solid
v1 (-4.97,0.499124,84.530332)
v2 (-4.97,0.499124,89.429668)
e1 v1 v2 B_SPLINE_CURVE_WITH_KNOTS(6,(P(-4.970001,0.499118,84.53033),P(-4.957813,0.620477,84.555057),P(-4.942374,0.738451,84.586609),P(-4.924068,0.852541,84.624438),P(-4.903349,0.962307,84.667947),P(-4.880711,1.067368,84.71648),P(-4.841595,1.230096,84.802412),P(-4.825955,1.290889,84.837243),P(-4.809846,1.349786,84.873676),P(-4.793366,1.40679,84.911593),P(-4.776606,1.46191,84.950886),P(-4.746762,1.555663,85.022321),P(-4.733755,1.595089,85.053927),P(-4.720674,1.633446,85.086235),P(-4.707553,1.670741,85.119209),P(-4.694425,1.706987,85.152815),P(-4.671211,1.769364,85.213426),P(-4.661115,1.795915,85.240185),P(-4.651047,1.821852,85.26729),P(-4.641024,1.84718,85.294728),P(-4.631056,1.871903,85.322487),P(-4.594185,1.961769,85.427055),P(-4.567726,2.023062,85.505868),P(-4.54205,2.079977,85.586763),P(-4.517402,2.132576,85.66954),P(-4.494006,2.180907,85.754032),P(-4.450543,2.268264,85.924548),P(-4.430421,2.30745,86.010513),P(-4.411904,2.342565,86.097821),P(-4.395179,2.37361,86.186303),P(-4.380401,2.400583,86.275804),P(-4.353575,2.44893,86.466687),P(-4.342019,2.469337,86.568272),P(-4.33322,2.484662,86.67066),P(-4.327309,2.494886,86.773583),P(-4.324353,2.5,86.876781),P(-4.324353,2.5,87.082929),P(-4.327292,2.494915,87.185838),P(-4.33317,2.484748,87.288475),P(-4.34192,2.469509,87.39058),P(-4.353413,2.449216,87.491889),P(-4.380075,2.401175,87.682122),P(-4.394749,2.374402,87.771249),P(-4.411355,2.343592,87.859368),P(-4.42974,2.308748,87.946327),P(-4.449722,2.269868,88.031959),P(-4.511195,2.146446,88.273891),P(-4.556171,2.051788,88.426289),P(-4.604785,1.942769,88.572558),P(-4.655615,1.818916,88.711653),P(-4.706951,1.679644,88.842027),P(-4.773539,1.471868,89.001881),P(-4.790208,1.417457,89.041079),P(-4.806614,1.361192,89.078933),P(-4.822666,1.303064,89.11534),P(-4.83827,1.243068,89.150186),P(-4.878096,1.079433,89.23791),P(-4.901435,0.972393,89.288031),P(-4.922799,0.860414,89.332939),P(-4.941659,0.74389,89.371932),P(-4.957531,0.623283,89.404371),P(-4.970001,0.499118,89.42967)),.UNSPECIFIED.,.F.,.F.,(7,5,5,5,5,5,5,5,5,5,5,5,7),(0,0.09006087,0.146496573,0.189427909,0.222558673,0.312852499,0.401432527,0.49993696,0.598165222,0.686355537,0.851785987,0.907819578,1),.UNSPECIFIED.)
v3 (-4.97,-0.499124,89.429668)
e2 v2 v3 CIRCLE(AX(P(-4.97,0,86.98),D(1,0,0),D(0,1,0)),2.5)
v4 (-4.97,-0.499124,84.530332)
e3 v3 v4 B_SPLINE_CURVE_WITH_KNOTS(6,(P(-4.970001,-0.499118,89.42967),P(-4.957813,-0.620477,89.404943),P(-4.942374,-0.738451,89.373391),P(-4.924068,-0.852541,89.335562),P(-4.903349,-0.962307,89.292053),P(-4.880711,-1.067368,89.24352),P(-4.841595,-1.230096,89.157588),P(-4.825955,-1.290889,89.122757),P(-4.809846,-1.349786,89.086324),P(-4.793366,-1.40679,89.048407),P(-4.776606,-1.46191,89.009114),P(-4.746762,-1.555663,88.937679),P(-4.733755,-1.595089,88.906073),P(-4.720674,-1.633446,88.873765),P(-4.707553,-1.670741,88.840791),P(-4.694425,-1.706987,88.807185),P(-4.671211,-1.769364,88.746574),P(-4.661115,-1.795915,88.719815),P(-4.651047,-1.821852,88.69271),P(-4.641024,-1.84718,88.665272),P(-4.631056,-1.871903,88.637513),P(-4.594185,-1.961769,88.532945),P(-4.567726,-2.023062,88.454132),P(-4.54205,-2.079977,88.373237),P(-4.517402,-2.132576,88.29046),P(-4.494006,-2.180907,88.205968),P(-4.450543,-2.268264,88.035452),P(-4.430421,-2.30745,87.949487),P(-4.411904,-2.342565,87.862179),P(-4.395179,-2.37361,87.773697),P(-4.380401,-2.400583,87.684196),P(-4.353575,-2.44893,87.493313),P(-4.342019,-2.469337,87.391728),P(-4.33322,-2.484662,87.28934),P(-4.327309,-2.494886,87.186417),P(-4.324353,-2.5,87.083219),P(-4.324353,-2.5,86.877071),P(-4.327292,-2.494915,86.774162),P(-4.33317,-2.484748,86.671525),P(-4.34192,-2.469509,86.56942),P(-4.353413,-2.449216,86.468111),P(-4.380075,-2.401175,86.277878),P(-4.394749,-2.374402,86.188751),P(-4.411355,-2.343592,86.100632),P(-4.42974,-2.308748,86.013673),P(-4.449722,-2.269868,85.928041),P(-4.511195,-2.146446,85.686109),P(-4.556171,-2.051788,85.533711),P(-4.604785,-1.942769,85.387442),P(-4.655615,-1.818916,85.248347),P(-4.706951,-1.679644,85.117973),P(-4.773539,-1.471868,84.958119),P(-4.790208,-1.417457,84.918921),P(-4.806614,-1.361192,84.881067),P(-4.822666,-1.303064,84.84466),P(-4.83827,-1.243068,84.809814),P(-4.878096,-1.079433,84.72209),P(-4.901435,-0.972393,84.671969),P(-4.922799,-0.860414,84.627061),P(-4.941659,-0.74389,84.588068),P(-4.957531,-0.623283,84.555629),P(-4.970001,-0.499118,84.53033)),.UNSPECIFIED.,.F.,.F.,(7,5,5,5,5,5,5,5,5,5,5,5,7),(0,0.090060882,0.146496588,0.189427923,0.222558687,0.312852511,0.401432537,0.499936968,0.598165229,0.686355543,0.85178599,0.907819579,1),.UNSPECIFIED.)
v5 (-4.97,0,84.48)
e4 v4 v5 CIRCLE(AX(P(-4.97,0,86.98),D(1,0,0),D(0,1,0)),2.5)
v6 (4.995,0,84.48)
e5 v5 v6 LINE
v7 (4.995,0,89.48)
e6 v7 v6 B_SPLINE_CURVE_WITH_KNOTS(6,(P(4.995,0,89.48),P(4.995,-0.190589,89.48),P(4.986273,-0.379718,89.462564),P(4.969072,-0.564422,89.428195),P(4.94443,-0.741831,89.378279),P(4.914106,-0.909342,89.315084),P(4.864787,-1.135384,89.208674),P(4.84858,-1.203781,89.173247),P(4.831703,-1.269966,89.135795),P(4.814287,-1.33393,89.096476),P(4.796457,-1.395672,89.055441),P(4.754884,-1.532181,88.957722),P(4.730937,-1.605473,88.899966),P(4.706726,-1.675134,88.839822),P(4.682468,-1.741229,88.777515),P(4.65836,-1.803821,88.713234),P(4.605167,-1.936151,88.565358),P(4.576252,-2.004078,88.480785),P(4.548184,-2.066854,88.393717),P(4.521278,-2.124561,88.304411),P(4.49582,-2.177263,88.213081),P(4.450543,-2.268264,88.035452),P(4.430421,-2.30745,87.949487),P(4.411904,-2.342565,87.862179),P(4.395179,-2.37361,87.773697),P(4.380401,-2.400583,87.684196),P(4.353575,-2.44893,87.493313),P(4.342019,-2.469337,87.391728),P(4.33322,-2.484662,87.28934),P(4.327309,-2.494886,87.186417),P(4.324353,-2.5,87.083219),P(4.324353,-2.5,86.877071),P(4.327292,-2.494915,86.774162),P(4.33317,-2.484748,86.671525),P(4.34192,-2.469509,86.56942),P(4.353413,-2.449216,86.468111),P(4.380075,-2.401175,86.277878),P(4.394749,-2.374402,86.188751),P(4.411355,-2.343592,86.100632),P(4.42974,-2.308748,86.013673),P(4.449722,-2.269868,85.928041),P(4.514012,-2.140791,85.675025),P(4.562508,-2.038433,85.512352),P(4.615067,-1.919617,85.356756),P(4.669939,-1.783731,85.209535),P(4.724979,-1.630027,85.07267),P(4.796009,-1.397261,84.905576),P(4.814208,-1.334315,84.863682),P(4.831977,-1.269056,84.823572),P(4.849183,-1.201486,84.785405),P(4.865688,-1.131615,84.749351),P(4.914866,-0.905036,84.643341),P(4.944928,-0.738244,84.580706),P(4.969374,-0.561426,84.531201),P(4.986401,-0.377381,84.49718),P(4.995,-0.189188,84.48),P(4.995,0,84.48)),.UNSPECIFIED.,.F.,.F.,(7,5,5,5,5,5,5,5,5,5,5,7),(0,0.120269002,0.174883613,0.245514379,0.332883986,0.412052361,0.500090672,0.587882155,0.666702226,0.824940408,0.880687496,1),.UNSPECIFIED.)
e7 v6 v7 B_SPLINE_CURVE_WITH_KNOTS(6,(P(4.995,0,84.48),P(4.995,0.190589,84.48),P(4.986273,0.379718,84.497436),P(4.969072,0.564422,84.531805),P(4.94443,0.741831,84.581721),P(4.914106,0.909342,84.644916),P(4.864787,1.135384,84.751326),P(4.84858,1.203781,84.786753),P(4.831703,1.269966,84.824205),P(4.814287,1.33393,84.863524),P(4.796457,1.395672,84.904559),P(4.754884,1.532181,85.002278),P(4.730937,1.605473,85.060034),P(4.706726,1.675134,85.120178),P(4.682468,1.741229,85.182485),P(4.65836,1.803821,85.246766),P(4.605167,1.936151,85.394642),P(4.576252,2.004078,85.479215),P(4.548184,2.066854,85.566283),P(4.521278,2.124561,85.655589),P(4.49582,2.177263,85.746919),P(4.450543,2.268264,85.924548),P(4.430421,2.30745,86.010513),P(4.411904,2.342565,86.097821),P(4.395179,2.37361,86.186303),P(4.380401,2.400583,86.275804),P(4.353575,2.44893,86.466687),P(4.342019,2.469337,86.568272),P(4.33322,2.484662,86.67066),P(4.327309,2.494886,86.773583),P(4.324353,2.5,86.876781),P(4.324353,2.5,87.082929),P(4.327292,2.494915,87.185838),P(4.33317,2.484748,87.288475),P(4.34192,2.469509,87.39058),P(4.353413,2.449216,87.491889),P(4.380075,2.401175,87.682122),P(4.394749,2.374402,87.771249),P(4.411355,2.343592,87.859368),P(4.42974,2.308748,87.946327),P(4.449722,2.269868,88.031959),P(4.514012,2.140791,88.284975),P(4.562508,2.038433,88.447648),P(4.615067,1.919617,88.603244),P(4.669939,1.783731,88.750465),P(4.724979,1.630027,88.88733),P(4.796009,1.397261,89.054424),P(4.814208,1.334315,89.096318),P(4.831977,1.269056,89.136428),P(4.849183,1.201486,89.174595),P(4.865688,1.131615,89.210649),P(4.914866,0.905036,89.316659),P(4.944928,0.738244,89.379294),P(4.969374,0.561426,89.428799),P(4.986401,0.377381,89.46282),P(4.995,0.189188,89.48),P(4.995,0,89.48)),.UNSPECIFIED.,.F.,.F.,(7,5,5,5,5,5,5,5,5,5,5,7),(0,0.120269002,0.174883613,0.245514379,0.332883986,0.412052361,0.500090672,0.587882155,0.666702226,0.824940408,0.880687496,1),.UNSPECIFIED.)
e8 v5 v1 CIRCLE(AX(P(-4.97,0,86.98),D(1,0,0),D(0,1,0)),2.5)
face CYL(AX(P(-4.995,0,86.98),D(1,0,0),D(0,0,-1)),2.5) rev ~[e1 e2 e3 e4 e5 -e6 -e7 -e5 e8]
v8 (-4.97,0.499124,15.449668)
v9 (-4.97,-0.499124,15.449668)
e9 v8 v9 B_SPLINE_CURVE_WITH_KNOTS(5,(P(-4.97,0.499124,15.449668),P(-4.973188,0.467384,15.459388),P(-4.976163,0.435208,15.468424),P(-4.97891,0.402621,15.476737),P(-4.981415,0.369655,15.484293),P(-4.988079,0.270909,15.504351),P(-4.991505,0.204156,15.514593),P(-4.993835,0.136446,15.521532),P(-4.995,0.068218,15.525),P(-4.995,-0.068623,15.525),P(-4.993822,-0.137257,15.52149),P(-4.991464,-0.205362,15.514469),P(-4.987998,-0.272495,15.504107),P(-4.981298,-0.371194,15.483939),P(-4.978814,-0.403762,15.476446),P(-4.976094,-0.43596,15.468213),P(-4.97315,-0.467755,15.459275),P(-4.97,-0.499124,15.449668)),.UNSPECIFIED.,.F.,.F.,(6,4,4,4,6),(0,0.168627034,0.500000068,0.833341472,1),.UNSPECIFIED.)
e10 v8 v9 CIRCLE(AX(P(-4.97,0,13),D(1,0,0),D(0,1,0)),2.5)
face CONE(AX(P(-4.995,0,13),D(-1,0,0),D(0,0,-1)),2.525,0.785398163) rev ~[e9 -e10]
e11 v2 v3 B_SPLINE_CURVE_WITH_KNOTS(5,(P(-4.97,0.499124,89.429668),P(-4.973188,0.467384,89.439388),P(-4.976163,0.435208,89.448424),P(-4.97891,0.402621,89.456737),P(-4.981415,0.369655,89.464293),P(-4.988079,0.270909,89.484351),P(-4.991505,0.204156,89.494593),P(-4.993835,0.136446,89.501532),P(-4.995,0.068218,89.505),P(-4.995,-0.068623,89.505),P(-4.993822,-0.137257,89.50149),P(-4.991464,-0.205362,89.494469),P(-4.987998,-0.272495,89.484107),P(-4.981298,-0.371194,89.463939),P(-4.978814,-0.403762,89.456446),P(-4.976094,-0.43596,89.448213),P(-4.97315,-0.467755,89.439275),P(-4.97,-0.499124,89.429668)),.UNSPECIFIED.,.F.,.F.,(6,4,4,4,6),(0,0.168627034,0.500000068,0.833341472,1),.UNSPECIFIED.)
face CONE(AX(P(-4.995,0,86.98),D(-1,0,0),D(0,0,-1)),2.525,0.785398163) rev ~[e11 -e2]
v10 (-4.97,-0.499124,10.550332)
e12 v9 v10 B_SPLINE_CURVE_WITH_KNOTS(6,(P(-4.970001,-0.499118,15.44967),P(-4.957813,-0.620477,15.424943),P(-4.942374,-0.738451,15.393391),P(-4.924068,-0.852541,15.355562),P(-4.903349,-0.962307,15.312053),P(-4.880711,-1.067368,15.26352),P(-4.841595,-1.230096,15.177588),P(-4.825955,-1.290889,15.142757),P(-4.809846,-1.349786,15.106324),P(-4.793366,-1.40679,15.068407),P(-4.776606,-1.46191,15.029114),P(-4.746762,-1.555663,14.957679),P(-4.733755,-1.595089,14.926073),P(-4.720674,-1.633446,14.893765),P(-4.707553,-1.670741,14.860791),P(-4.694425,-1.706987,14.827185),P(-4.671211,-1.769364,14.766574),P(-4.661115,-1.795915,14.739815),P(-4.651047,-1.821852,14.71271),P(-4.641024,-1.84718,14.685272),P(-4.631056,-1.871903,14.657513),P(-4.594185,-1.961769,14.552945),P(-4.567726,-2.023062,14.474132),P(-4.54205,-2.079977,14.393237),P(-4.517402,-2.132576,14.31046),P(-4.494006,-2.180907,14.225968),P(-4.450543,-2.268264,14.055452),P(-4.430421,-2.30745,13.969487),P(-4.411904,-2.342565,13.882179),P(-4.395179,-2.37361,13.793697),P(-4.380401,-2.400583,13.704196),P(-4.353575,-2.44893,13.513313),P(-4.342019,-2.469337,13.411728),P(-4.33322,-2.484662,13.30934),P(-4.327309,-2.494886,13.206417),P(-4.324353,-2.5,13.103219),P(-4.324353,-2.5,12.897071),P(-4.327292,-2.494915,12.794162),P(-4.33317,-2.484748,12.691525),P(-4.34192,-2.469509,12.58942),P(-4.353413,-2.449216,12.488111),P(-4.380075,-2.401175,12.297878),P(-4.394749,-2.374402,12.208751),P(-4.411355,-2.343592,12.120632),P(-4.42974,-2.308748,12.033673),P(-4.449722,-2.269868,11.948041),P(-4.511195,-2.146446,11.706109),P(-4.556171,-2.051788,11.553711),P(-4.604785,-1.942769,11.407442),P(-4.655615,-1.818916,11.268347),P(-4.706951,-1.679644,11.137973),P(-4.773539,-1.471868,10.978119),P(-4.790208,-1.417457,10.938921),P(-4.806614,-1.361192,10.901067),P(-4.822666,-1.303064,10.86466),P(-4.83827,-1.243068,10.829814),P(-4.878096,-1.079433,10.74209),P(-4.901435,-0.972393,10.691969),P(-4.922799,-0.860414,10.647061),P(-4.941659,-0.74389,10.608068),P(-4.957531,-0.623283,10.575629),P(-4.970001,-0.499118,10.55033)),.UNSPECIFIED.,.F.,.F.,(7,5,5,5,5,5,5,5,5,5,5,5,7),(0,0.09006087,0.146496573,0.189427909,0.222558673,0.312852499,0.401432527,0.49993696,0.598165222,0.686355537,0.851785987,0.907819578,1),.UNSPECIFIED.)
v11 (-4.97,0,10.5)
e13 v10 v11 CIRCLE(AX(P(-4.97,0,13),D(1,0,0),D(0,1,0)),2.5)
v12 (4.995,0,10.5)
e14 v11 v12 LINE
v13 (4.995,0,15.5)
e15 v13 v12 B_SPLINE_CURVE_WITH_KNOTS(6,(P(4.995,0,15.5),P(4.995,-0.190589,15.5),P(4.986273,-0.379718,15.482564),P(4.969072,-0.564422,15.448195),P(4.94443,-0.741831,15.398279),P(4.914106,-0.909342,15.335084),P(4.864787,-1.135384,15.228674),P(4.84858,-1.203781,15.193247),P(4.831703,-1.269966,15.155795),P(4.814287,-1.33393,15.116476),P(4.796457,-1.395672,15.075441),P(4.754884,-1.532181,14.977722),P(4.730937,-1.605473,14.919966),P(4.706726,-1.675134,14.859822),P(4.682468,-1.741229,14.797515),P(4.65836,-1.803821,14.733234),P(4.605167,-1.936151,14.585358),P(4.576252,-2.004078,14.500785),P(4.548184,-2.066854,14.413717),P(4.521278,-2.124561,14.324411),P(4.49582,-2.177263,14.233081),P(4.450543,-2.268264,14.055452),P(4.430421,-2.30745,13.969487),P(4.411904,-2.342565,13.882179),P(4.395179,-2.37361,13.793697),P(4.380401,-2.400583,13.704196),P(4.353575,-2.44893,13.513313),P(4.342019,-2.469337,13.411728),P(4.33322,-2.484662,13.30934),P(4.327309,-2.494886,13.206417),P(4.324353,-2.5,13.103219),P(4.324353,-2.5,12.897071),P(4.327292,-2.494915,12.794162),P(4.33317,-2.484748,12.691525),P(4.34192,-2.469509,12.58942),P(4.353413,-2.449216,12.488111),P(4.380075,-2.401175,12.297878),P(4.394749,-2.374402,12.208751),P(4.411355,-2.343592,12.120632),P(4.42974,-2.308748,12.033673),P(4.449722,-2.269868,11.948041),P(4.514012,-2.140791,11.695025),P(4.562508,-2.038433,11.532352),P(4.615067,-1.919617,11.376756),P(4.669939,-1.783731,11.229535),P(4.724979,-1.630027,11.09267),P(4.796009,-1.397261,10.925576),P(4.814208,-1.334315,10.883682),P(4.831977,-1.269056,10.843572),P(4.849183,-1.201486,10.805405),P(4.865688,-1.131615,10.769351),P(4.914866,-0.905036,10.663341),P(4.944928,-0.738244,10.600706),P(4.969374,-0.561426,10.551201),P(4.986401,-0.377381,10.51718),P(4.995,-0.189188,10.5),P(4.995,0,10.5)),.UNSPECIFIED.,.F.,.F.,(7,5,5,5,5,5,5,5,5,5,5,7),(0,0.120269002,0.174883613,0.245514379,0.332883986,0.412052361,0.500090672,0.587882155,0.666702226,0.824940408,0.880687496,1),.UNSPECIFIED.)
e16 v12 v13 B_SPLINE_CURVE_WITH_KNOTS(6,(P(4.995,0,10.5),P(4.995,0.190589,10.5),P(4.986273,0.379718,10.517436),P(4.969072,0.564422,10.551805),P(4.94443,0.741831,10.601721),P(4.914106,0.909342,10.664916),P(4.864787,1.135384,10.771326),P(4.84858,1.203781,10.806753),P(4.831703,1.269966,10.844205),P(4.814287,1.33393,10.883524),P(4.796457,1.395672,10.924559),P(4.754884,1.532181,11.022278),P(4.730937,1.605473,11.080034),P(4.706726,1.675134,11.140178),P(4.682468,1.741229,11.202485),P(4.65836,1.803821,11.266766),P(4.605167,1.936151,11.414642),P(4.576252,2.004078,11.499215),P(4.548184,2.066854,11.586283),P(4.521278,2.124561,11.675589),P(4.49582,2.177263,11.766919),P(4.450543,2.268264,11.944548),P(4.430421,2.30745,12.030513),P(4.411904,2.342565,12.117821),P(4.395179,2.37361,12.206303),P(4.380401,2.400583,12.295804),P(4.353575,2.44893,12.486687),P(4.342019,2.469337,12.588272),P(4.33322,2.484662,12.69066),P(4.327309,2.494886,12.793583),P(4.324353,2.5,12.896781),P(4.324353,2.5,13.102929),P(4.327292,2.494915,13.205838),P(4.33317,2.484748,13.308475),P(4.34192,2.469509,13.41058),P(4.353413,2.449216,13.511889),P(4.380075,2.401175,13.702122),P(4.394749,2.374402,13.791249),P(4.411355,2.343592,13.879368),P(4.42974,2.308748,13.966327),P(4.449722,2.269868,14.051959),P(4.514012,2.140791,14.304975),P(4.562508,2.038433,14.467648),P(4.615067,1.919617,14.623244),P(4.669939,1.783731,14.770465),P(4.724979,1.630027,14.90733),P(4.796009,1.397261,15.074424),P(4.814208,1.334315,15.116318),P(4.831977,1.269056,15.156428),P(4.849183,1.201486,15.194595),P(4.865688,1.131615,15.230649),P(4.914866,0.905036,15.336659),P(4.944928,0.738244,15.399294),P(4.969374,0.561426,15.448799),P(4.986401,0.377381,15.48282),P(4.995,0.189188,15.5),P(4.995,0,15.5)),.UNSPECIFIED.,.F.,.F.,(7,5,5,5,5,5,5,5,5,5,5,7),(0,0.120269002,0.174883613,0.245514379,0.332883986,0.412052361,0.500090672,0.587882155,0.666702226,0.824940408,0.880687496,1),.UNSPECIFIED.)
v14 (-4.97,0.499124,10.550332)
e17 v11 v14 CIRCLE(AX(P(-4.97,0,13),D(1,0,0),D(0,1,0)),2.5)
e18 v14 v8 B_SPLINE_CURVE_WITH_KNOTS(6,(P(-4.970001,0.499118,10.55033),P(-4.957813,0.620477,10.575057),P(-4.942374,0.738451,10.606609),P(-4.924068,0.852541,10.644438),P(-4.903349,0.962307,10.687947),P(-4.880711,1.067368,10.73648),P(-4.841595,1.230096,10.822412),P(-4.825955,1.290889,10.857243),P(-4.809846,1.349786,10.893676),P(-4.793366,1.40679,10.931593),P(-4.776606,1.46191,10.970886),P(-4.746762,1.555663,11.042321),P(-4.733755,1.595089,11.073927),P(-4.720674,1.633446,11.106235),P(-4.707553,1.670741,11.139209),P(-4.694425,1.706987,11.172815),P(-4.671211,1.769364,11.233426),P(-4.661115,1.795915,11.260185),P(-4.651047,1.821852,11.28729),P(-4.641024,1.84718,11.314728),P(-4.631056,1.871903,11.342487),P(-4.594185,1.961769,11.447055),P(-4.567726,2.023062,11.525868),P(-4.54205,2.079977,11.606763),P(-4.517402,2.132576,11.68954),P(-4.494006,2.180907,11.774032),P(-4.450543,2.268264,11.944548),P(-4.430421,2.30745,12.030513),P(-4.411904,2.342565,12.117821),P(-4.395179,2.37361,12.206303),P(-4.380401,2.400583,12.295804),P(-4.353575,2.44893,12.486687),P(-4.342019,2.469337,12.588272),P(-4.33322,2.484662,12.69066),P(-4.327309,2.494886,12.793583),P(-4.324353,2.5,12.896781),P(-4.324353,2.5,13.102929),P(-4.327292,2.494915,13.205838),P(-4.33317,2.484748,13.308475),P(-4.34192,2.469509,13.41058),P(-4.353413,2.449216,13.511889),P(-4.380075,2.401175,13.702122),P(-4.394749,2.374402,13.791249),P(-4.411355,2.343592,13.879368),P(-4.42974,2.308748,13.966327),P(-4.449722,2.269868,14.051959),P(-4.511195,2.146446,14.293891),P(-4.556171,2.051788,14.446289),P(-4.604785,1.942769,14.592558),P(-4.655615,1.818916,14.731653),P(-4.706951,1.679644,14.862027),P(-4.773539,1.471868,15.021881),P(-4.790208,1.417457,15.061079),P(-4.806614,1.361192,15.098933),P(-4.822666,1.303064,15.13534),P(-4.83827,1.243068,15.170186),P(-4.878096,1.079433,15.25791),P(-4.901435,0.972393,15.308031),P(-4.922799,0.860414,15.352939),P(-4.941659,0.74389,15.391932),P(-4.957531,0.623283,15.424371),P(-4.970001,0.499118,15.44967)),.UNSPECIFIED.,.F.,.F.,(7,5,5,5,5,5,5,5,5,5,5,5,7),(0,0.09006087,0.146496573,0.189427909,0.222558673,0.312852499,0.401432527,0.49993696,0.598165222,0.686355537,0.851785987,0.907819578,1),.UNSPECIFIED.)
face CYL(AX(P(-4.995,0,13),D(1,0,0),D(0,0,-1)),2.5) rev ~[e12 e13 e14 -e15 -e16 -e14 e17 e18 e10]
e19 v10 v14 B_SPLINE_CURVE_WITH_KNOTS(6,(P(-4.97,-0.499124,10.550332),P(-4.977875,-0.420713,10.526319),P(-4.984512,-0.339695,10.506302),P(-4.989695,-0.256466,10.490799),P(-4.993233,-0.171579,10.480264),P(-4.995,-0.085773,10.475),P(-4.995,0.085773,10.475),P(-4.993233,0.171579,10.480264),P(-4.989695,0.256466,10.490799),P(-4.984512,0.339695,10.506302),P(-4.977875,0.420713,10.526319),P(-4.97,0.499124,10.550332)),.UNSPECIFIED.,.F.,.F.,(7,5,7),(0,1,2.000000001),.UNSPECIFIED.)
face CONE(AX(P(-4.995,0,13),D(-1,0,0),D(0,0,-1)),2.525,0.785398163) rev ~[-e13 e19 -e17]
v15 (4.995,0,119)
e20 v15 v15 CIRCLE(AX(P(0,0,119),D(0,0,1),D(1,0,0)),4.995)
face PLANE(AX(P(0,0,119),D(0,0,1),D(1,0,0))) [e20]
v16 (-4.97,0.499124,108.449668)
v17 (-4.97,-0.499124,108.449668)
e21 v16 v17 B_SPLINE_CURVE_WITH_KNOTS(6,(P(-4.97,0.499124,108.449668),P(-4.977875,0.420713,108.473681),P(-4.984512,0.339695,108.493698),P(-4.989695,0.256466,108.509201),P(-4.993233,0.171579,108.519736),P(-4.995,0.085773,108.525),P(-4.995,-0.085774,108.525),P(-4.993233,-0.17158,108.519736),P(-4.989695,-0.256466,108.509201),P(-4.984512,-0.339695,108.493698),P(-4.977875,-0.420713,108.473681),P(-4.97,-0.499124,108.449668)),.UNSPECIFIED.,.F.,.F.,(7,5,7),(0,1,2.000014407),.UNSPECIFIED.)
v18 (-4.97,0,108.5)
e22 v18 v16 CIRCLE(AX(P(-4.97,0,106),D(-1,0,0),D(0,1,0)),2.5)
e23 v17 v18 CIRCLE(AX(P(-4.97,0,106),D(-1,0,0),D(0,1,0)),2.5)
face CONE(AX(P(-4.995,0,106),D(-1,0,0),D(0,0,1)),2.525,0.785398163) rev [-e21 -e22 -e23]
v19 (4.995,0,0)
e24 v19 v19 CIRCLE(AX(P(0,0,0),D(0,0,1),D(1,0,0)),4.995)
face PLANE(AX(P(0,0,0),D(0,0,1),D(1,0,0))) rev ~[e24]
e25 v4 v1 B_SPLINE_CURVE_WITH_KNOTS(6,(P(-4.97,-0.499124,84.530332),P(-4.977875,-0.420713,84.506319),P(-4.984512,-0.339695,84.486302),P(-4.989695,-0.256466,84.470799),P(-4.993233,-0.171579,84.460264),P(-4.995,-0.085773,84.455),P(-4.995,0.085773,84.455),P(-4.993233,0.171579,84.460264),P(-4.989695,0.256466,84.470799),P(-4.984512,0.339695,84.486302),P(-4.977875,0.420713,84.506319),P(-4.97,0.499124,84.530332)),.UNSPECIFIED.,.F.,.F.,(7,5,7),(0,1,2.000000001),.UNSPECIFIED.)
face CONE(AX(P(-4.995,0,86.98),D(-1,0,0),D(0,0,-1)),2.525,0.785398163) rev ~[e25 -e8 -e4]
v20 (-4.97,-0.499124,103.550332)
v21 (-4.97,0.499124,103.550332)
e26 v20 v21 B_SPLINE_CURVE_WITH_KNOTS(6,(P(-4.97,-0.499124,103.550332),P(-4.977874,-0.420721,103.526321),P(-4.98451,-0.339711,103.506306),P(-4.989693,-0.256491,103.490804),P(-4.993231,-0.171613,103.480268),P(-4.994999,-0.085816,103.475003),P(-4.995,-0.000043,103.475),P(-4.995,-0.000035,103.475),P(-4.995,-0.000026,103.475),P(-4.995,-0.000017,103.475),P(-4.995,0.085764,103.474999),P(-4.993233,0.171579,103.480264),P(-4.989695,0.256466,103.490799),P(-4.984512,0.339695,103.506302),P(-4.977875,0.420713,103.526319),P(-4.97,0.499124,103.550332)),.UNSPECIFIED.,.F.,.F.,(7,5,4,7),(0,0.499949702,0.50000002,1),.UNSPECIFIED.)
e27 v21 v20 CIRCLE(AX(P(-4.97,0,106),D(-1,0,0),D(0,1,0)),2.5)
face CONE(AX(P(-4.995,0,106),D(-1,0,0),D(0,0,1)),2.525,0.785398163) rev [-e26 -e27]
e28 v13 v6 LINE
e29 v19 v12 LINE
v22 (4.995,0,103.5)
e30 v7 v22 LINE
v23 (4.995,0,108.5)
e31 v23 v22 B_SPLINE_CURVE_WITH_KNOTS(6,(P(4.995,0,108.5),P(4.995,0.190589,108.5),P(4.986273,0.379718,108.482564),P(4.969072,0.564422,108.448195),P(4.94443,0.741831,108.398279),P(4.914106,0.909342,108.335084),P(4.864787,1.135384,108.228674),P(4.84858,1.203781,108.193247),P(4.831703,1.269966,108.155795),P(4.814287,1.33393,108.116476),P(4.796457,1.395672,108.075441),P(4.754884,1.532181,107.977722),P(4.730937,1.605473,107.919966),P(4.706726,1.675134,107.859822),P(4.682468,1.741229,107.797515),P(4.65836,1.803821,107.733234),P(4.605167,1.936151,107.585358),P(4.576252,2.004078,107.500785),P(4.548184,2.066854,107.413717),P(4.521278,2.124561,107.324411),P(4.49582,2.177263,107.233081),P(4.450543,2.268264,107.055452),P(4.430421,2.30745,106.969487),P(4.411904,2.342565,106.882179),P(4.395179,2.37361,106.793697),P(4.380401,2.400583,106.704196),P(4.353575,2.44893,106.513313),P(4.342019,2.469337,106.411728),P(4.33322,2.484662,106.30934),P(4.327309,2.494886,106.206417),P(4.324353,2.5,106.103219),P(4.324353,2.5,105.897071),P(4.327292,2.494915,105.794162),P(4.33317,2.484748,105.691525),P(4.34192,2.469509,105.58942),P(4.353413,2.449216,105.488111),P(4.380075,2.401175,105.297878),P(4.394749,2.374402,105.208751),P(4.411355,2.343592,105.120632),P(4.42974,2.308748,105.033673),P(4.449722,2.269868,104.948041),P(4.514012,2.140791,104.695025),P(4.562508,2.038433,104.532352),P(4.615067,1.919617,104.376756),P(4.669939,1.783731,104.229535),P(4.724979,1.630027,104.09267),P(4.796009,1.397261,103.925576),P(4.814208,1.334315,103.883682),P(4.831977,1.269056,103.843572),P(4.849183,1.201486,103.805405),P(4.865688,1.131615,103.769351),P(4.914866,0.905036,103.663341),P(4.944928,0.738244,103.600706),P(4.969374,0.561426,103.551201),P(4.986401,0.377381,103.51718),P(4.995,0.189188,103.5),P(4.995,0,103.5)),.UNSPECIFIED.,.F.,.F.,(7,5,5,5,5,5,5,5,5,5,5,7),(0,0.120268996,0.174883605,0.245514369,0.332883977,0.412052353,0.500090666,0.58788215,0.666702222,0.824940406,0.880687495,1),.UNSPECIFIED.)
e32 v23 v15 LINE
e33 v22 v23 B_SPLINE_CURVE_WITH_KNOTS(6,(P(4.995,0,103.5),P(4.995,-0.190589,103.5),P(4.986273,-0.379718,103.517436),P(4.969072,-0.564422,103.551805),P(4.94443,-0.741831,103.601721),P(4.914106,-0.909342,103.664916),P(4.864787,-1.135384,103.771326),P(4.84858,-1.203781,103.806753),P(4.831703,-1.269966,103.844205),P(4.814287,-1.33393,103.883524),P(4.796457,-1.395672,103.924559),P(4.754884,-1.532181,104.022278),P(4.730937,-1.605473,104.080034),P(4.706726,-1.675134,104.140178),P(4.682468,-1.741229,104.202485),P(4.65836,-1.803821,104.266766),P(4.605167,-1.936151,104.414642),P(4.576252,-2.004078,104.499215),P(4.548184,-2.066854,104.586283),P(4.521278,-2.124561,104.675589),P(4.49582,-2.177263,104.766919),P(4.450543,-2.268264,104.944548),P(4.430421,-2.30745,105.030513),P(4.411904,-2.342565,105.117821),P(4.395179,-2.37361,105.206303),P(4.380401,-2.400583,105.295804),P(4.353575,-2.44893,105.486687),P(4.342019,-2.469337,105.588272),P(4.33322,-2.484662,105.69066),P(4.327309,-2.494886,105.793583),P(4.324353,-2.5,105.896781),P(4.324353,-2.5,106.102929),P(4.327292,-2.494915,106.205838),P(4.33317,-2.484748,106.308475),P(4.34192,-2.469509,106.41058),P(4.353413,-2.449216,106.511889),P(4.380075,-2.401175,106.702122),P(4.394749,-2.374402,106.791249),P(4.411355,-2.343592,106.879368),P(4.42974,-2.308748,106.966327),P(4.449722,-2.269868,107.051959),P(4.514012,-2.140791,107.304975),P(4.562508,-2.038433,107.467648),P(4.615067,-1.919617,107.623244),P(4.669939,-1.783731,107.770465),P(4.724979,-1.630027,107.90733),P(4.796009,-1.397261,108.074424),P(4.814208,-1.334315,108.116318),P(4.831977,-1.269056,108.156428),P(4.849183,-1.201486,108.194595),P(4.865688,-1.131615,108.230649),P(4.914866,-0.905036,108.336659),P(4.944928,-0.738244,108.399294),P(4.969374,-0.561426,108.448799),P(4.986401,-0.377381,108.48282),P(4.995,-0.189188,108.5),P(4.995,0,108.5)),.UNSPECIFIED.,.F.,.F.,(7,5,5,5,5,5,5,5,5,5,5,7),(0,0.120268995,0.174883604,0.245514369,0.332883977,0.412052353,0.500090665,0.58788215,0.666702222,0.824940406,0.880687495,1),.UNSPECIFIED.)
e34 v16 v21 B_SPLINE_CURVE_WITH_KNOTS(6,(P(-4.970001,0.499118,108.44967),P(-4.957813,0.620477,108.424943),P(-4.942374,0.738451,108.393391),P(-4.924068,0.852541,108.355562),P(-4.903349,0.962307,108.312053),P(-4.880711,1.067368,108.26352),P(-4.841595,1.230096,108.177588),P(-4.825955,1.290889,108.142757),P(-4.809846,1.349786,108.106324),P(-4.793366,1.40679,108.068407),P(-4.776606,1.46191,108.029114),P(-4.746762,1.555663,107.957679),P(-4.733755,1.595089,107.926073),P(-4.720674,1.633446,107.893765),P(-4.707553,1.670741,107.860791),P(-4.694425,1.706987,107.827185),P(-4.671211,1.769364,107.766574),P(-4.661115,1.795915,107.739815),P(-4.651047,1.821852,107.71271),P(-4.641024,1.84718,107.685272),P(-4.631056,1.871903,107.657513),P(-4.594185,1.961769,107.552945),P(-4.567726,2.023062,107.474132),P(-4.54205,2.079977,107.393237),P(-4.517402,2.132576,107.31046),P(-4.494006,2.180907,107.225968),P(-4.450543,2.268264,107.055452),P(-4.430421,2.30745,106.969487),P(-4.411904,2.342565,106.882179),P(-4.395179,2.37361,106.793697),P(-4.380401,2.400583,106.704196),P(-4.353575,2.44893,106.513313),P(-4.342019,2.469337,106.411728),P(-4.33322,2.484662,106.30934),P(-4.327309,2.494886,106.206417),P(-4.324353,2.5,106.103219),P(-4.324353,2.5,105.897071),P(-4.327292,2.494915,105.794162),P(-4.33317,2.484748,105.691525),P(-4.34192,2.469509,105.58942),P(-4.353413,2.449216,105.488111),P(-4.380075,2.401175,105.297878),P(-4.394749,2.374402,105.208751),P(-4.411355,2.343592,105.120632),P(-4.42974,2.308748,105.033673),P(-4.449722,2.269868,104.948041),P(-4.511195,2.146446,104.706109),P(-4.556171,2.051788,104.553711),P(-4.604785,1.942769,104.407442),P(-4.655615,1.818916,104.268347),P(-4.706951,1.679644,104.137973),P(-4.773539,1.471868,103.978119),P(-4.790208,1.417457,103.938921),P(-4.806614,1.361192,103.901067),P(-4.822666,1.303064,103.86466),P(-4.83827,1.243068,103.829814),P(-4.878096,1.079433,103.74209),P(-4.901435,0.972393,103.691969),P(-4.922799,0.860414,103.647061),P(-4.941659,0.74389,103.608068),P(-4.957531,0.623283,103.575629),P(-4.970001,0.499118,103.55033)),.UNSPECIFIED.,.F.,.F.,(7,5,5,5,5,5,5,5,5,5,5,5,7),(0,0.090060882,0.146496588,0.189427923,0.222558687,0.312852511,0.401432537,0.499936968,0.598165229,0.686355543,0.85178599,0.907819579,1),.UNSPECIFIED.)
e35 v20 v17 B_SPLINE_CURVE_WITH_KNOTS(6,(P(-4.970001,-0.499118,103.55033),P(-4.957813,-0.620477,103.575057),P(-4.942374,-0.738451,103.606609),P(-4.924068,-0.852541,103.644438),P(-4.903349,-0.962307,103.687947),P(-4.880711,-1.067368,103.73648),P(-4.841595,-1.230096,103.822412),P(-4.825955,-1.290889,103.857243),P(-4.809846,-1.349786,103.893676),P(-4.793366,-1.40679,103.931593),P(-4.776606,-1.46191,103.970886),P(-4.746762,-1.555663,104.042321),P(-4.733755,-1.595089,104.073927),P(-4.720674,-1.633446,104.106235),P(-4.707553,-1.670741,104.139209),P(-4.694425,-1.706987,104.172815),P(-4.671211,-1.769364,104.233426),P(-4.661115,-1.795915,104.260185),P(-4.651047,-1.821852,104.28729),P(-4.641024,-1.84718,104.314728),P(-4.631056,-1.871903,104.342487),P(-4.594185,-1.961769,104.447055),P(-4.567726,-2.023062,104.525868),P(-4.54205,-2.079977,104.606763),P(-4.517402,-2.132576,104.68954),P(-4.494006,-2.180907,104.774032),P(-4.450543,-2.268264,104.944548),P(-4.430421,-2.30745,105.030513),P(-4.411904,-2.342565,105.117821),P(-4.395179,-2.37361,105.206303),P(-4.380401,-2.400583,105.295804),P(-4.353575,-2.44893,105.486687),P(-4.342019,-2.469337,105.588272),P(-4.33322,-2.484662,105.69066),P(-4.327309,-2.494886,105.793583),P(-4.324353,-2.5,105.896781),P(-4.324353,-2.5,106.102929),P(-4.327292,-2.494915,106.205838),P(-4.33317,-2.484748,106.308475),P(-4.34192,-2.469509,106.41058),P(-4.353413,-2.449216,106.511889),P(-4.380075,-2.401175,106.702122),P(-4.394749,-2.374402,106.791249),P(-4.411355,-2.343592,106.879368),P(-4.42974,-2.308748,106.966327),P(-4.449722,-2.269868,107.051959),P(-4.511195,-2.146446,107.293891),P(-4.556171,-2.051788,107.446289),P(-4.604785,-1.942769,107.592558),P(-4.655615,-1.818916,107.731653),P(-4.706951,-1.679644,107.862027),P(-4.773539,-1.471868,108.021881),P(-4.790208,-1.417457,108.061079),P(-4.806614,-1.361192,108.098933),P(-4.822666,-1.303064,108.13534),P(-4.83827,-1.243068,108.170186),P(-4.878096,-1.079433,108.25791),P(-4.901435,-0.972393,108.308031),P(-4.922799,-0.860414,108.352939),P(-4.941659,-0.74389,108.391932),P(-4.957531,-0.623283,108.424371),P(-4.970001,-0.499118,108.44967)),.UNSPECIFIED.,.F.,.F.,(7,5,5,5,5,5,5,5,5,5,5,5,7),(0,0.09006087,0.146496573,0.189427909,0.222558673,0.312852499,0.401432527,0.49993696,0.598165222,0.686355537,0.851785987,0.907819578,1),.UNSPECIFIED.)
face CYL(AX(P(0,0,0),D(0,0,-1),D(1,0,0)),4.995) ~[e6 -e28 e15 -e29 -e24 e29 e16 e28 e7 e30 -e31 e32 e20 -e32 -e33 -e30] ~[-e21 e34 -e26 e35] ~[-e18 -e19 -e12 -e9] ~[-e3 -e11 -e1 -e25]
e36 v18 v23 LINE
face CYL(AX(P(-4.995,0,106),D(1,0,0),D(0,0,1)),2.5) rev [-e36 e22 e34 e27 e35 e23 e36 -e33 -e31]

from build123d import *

# Parameters (mm, degrees)
SKETCH2_R                       = 4.995
BOSS_EXTRUDE1_DEPTH             = 119
F_5_0MM_DOWEL_HOLE1_D           = 5
F_5_0MM_DOWEL_HOLE1_CSINK_D     = 5.05
F_5_0MM_DOWEL_HOLE1_CSINK_ANGLE = 90
F_5_0MM_DOWEL_HOLE2_D           = 5
F_5_0MM_DOWEL_HOLE2_CSINK_D     = 5.05
F_5_0MM_DOWEL_HOLE2_CSINK_ANGLE = 90


with BuildPart() as part:
    # Sketch2 → Boss-Extrude1 (new body)
    with BuildSketch(Plane.XY):
        Circle(SKETCH2_R)
    extrude(amount=BOSS_EXTRUDE1_DEPTH)

    # Ø5.0mm Dowel Hole1 (through all)
    with Locations(Plane.ZY.offset(4.995)):
        with Locations((13, 0)):
            f_5_0mm_dowel_hole1 = CounterSinkHole(F_5_0MM_DOWEL_HOLE1_D / 2, F_5_0MM_DOWEL_HOLE1_CSINK_D / 2, counter_sink_angle=F_5_0MM_DOWEL_HOLE1_CSINK_ANGLE)

    # Mirror1: Ø5.0mm Dowel Hole1 across plane
    add(f_5_0mm_dowel_hole1.mirror(Plane(origin=(0, 0, 59.5), x_dir=(1, 0, 0), z_dir=(0, 0, -1))), mode=Mode.SUBTRACT)

    # Ø5.0mm Dowel Hole2 (through all)
    with Locations(Plane.ZY.offset(4.995)):
        with Locations((86.98, 0)):
            CounterSinkHole(F_5_0MM_DOWEL_HOLE2_D / 2, F_5_0MM_DOWEL_HOLE2_CSINK_D / 2, counter_sink_angle=F_5_0MM_DOWEL_HOLE2_CSINK_ANGLE)


solid = part.part
